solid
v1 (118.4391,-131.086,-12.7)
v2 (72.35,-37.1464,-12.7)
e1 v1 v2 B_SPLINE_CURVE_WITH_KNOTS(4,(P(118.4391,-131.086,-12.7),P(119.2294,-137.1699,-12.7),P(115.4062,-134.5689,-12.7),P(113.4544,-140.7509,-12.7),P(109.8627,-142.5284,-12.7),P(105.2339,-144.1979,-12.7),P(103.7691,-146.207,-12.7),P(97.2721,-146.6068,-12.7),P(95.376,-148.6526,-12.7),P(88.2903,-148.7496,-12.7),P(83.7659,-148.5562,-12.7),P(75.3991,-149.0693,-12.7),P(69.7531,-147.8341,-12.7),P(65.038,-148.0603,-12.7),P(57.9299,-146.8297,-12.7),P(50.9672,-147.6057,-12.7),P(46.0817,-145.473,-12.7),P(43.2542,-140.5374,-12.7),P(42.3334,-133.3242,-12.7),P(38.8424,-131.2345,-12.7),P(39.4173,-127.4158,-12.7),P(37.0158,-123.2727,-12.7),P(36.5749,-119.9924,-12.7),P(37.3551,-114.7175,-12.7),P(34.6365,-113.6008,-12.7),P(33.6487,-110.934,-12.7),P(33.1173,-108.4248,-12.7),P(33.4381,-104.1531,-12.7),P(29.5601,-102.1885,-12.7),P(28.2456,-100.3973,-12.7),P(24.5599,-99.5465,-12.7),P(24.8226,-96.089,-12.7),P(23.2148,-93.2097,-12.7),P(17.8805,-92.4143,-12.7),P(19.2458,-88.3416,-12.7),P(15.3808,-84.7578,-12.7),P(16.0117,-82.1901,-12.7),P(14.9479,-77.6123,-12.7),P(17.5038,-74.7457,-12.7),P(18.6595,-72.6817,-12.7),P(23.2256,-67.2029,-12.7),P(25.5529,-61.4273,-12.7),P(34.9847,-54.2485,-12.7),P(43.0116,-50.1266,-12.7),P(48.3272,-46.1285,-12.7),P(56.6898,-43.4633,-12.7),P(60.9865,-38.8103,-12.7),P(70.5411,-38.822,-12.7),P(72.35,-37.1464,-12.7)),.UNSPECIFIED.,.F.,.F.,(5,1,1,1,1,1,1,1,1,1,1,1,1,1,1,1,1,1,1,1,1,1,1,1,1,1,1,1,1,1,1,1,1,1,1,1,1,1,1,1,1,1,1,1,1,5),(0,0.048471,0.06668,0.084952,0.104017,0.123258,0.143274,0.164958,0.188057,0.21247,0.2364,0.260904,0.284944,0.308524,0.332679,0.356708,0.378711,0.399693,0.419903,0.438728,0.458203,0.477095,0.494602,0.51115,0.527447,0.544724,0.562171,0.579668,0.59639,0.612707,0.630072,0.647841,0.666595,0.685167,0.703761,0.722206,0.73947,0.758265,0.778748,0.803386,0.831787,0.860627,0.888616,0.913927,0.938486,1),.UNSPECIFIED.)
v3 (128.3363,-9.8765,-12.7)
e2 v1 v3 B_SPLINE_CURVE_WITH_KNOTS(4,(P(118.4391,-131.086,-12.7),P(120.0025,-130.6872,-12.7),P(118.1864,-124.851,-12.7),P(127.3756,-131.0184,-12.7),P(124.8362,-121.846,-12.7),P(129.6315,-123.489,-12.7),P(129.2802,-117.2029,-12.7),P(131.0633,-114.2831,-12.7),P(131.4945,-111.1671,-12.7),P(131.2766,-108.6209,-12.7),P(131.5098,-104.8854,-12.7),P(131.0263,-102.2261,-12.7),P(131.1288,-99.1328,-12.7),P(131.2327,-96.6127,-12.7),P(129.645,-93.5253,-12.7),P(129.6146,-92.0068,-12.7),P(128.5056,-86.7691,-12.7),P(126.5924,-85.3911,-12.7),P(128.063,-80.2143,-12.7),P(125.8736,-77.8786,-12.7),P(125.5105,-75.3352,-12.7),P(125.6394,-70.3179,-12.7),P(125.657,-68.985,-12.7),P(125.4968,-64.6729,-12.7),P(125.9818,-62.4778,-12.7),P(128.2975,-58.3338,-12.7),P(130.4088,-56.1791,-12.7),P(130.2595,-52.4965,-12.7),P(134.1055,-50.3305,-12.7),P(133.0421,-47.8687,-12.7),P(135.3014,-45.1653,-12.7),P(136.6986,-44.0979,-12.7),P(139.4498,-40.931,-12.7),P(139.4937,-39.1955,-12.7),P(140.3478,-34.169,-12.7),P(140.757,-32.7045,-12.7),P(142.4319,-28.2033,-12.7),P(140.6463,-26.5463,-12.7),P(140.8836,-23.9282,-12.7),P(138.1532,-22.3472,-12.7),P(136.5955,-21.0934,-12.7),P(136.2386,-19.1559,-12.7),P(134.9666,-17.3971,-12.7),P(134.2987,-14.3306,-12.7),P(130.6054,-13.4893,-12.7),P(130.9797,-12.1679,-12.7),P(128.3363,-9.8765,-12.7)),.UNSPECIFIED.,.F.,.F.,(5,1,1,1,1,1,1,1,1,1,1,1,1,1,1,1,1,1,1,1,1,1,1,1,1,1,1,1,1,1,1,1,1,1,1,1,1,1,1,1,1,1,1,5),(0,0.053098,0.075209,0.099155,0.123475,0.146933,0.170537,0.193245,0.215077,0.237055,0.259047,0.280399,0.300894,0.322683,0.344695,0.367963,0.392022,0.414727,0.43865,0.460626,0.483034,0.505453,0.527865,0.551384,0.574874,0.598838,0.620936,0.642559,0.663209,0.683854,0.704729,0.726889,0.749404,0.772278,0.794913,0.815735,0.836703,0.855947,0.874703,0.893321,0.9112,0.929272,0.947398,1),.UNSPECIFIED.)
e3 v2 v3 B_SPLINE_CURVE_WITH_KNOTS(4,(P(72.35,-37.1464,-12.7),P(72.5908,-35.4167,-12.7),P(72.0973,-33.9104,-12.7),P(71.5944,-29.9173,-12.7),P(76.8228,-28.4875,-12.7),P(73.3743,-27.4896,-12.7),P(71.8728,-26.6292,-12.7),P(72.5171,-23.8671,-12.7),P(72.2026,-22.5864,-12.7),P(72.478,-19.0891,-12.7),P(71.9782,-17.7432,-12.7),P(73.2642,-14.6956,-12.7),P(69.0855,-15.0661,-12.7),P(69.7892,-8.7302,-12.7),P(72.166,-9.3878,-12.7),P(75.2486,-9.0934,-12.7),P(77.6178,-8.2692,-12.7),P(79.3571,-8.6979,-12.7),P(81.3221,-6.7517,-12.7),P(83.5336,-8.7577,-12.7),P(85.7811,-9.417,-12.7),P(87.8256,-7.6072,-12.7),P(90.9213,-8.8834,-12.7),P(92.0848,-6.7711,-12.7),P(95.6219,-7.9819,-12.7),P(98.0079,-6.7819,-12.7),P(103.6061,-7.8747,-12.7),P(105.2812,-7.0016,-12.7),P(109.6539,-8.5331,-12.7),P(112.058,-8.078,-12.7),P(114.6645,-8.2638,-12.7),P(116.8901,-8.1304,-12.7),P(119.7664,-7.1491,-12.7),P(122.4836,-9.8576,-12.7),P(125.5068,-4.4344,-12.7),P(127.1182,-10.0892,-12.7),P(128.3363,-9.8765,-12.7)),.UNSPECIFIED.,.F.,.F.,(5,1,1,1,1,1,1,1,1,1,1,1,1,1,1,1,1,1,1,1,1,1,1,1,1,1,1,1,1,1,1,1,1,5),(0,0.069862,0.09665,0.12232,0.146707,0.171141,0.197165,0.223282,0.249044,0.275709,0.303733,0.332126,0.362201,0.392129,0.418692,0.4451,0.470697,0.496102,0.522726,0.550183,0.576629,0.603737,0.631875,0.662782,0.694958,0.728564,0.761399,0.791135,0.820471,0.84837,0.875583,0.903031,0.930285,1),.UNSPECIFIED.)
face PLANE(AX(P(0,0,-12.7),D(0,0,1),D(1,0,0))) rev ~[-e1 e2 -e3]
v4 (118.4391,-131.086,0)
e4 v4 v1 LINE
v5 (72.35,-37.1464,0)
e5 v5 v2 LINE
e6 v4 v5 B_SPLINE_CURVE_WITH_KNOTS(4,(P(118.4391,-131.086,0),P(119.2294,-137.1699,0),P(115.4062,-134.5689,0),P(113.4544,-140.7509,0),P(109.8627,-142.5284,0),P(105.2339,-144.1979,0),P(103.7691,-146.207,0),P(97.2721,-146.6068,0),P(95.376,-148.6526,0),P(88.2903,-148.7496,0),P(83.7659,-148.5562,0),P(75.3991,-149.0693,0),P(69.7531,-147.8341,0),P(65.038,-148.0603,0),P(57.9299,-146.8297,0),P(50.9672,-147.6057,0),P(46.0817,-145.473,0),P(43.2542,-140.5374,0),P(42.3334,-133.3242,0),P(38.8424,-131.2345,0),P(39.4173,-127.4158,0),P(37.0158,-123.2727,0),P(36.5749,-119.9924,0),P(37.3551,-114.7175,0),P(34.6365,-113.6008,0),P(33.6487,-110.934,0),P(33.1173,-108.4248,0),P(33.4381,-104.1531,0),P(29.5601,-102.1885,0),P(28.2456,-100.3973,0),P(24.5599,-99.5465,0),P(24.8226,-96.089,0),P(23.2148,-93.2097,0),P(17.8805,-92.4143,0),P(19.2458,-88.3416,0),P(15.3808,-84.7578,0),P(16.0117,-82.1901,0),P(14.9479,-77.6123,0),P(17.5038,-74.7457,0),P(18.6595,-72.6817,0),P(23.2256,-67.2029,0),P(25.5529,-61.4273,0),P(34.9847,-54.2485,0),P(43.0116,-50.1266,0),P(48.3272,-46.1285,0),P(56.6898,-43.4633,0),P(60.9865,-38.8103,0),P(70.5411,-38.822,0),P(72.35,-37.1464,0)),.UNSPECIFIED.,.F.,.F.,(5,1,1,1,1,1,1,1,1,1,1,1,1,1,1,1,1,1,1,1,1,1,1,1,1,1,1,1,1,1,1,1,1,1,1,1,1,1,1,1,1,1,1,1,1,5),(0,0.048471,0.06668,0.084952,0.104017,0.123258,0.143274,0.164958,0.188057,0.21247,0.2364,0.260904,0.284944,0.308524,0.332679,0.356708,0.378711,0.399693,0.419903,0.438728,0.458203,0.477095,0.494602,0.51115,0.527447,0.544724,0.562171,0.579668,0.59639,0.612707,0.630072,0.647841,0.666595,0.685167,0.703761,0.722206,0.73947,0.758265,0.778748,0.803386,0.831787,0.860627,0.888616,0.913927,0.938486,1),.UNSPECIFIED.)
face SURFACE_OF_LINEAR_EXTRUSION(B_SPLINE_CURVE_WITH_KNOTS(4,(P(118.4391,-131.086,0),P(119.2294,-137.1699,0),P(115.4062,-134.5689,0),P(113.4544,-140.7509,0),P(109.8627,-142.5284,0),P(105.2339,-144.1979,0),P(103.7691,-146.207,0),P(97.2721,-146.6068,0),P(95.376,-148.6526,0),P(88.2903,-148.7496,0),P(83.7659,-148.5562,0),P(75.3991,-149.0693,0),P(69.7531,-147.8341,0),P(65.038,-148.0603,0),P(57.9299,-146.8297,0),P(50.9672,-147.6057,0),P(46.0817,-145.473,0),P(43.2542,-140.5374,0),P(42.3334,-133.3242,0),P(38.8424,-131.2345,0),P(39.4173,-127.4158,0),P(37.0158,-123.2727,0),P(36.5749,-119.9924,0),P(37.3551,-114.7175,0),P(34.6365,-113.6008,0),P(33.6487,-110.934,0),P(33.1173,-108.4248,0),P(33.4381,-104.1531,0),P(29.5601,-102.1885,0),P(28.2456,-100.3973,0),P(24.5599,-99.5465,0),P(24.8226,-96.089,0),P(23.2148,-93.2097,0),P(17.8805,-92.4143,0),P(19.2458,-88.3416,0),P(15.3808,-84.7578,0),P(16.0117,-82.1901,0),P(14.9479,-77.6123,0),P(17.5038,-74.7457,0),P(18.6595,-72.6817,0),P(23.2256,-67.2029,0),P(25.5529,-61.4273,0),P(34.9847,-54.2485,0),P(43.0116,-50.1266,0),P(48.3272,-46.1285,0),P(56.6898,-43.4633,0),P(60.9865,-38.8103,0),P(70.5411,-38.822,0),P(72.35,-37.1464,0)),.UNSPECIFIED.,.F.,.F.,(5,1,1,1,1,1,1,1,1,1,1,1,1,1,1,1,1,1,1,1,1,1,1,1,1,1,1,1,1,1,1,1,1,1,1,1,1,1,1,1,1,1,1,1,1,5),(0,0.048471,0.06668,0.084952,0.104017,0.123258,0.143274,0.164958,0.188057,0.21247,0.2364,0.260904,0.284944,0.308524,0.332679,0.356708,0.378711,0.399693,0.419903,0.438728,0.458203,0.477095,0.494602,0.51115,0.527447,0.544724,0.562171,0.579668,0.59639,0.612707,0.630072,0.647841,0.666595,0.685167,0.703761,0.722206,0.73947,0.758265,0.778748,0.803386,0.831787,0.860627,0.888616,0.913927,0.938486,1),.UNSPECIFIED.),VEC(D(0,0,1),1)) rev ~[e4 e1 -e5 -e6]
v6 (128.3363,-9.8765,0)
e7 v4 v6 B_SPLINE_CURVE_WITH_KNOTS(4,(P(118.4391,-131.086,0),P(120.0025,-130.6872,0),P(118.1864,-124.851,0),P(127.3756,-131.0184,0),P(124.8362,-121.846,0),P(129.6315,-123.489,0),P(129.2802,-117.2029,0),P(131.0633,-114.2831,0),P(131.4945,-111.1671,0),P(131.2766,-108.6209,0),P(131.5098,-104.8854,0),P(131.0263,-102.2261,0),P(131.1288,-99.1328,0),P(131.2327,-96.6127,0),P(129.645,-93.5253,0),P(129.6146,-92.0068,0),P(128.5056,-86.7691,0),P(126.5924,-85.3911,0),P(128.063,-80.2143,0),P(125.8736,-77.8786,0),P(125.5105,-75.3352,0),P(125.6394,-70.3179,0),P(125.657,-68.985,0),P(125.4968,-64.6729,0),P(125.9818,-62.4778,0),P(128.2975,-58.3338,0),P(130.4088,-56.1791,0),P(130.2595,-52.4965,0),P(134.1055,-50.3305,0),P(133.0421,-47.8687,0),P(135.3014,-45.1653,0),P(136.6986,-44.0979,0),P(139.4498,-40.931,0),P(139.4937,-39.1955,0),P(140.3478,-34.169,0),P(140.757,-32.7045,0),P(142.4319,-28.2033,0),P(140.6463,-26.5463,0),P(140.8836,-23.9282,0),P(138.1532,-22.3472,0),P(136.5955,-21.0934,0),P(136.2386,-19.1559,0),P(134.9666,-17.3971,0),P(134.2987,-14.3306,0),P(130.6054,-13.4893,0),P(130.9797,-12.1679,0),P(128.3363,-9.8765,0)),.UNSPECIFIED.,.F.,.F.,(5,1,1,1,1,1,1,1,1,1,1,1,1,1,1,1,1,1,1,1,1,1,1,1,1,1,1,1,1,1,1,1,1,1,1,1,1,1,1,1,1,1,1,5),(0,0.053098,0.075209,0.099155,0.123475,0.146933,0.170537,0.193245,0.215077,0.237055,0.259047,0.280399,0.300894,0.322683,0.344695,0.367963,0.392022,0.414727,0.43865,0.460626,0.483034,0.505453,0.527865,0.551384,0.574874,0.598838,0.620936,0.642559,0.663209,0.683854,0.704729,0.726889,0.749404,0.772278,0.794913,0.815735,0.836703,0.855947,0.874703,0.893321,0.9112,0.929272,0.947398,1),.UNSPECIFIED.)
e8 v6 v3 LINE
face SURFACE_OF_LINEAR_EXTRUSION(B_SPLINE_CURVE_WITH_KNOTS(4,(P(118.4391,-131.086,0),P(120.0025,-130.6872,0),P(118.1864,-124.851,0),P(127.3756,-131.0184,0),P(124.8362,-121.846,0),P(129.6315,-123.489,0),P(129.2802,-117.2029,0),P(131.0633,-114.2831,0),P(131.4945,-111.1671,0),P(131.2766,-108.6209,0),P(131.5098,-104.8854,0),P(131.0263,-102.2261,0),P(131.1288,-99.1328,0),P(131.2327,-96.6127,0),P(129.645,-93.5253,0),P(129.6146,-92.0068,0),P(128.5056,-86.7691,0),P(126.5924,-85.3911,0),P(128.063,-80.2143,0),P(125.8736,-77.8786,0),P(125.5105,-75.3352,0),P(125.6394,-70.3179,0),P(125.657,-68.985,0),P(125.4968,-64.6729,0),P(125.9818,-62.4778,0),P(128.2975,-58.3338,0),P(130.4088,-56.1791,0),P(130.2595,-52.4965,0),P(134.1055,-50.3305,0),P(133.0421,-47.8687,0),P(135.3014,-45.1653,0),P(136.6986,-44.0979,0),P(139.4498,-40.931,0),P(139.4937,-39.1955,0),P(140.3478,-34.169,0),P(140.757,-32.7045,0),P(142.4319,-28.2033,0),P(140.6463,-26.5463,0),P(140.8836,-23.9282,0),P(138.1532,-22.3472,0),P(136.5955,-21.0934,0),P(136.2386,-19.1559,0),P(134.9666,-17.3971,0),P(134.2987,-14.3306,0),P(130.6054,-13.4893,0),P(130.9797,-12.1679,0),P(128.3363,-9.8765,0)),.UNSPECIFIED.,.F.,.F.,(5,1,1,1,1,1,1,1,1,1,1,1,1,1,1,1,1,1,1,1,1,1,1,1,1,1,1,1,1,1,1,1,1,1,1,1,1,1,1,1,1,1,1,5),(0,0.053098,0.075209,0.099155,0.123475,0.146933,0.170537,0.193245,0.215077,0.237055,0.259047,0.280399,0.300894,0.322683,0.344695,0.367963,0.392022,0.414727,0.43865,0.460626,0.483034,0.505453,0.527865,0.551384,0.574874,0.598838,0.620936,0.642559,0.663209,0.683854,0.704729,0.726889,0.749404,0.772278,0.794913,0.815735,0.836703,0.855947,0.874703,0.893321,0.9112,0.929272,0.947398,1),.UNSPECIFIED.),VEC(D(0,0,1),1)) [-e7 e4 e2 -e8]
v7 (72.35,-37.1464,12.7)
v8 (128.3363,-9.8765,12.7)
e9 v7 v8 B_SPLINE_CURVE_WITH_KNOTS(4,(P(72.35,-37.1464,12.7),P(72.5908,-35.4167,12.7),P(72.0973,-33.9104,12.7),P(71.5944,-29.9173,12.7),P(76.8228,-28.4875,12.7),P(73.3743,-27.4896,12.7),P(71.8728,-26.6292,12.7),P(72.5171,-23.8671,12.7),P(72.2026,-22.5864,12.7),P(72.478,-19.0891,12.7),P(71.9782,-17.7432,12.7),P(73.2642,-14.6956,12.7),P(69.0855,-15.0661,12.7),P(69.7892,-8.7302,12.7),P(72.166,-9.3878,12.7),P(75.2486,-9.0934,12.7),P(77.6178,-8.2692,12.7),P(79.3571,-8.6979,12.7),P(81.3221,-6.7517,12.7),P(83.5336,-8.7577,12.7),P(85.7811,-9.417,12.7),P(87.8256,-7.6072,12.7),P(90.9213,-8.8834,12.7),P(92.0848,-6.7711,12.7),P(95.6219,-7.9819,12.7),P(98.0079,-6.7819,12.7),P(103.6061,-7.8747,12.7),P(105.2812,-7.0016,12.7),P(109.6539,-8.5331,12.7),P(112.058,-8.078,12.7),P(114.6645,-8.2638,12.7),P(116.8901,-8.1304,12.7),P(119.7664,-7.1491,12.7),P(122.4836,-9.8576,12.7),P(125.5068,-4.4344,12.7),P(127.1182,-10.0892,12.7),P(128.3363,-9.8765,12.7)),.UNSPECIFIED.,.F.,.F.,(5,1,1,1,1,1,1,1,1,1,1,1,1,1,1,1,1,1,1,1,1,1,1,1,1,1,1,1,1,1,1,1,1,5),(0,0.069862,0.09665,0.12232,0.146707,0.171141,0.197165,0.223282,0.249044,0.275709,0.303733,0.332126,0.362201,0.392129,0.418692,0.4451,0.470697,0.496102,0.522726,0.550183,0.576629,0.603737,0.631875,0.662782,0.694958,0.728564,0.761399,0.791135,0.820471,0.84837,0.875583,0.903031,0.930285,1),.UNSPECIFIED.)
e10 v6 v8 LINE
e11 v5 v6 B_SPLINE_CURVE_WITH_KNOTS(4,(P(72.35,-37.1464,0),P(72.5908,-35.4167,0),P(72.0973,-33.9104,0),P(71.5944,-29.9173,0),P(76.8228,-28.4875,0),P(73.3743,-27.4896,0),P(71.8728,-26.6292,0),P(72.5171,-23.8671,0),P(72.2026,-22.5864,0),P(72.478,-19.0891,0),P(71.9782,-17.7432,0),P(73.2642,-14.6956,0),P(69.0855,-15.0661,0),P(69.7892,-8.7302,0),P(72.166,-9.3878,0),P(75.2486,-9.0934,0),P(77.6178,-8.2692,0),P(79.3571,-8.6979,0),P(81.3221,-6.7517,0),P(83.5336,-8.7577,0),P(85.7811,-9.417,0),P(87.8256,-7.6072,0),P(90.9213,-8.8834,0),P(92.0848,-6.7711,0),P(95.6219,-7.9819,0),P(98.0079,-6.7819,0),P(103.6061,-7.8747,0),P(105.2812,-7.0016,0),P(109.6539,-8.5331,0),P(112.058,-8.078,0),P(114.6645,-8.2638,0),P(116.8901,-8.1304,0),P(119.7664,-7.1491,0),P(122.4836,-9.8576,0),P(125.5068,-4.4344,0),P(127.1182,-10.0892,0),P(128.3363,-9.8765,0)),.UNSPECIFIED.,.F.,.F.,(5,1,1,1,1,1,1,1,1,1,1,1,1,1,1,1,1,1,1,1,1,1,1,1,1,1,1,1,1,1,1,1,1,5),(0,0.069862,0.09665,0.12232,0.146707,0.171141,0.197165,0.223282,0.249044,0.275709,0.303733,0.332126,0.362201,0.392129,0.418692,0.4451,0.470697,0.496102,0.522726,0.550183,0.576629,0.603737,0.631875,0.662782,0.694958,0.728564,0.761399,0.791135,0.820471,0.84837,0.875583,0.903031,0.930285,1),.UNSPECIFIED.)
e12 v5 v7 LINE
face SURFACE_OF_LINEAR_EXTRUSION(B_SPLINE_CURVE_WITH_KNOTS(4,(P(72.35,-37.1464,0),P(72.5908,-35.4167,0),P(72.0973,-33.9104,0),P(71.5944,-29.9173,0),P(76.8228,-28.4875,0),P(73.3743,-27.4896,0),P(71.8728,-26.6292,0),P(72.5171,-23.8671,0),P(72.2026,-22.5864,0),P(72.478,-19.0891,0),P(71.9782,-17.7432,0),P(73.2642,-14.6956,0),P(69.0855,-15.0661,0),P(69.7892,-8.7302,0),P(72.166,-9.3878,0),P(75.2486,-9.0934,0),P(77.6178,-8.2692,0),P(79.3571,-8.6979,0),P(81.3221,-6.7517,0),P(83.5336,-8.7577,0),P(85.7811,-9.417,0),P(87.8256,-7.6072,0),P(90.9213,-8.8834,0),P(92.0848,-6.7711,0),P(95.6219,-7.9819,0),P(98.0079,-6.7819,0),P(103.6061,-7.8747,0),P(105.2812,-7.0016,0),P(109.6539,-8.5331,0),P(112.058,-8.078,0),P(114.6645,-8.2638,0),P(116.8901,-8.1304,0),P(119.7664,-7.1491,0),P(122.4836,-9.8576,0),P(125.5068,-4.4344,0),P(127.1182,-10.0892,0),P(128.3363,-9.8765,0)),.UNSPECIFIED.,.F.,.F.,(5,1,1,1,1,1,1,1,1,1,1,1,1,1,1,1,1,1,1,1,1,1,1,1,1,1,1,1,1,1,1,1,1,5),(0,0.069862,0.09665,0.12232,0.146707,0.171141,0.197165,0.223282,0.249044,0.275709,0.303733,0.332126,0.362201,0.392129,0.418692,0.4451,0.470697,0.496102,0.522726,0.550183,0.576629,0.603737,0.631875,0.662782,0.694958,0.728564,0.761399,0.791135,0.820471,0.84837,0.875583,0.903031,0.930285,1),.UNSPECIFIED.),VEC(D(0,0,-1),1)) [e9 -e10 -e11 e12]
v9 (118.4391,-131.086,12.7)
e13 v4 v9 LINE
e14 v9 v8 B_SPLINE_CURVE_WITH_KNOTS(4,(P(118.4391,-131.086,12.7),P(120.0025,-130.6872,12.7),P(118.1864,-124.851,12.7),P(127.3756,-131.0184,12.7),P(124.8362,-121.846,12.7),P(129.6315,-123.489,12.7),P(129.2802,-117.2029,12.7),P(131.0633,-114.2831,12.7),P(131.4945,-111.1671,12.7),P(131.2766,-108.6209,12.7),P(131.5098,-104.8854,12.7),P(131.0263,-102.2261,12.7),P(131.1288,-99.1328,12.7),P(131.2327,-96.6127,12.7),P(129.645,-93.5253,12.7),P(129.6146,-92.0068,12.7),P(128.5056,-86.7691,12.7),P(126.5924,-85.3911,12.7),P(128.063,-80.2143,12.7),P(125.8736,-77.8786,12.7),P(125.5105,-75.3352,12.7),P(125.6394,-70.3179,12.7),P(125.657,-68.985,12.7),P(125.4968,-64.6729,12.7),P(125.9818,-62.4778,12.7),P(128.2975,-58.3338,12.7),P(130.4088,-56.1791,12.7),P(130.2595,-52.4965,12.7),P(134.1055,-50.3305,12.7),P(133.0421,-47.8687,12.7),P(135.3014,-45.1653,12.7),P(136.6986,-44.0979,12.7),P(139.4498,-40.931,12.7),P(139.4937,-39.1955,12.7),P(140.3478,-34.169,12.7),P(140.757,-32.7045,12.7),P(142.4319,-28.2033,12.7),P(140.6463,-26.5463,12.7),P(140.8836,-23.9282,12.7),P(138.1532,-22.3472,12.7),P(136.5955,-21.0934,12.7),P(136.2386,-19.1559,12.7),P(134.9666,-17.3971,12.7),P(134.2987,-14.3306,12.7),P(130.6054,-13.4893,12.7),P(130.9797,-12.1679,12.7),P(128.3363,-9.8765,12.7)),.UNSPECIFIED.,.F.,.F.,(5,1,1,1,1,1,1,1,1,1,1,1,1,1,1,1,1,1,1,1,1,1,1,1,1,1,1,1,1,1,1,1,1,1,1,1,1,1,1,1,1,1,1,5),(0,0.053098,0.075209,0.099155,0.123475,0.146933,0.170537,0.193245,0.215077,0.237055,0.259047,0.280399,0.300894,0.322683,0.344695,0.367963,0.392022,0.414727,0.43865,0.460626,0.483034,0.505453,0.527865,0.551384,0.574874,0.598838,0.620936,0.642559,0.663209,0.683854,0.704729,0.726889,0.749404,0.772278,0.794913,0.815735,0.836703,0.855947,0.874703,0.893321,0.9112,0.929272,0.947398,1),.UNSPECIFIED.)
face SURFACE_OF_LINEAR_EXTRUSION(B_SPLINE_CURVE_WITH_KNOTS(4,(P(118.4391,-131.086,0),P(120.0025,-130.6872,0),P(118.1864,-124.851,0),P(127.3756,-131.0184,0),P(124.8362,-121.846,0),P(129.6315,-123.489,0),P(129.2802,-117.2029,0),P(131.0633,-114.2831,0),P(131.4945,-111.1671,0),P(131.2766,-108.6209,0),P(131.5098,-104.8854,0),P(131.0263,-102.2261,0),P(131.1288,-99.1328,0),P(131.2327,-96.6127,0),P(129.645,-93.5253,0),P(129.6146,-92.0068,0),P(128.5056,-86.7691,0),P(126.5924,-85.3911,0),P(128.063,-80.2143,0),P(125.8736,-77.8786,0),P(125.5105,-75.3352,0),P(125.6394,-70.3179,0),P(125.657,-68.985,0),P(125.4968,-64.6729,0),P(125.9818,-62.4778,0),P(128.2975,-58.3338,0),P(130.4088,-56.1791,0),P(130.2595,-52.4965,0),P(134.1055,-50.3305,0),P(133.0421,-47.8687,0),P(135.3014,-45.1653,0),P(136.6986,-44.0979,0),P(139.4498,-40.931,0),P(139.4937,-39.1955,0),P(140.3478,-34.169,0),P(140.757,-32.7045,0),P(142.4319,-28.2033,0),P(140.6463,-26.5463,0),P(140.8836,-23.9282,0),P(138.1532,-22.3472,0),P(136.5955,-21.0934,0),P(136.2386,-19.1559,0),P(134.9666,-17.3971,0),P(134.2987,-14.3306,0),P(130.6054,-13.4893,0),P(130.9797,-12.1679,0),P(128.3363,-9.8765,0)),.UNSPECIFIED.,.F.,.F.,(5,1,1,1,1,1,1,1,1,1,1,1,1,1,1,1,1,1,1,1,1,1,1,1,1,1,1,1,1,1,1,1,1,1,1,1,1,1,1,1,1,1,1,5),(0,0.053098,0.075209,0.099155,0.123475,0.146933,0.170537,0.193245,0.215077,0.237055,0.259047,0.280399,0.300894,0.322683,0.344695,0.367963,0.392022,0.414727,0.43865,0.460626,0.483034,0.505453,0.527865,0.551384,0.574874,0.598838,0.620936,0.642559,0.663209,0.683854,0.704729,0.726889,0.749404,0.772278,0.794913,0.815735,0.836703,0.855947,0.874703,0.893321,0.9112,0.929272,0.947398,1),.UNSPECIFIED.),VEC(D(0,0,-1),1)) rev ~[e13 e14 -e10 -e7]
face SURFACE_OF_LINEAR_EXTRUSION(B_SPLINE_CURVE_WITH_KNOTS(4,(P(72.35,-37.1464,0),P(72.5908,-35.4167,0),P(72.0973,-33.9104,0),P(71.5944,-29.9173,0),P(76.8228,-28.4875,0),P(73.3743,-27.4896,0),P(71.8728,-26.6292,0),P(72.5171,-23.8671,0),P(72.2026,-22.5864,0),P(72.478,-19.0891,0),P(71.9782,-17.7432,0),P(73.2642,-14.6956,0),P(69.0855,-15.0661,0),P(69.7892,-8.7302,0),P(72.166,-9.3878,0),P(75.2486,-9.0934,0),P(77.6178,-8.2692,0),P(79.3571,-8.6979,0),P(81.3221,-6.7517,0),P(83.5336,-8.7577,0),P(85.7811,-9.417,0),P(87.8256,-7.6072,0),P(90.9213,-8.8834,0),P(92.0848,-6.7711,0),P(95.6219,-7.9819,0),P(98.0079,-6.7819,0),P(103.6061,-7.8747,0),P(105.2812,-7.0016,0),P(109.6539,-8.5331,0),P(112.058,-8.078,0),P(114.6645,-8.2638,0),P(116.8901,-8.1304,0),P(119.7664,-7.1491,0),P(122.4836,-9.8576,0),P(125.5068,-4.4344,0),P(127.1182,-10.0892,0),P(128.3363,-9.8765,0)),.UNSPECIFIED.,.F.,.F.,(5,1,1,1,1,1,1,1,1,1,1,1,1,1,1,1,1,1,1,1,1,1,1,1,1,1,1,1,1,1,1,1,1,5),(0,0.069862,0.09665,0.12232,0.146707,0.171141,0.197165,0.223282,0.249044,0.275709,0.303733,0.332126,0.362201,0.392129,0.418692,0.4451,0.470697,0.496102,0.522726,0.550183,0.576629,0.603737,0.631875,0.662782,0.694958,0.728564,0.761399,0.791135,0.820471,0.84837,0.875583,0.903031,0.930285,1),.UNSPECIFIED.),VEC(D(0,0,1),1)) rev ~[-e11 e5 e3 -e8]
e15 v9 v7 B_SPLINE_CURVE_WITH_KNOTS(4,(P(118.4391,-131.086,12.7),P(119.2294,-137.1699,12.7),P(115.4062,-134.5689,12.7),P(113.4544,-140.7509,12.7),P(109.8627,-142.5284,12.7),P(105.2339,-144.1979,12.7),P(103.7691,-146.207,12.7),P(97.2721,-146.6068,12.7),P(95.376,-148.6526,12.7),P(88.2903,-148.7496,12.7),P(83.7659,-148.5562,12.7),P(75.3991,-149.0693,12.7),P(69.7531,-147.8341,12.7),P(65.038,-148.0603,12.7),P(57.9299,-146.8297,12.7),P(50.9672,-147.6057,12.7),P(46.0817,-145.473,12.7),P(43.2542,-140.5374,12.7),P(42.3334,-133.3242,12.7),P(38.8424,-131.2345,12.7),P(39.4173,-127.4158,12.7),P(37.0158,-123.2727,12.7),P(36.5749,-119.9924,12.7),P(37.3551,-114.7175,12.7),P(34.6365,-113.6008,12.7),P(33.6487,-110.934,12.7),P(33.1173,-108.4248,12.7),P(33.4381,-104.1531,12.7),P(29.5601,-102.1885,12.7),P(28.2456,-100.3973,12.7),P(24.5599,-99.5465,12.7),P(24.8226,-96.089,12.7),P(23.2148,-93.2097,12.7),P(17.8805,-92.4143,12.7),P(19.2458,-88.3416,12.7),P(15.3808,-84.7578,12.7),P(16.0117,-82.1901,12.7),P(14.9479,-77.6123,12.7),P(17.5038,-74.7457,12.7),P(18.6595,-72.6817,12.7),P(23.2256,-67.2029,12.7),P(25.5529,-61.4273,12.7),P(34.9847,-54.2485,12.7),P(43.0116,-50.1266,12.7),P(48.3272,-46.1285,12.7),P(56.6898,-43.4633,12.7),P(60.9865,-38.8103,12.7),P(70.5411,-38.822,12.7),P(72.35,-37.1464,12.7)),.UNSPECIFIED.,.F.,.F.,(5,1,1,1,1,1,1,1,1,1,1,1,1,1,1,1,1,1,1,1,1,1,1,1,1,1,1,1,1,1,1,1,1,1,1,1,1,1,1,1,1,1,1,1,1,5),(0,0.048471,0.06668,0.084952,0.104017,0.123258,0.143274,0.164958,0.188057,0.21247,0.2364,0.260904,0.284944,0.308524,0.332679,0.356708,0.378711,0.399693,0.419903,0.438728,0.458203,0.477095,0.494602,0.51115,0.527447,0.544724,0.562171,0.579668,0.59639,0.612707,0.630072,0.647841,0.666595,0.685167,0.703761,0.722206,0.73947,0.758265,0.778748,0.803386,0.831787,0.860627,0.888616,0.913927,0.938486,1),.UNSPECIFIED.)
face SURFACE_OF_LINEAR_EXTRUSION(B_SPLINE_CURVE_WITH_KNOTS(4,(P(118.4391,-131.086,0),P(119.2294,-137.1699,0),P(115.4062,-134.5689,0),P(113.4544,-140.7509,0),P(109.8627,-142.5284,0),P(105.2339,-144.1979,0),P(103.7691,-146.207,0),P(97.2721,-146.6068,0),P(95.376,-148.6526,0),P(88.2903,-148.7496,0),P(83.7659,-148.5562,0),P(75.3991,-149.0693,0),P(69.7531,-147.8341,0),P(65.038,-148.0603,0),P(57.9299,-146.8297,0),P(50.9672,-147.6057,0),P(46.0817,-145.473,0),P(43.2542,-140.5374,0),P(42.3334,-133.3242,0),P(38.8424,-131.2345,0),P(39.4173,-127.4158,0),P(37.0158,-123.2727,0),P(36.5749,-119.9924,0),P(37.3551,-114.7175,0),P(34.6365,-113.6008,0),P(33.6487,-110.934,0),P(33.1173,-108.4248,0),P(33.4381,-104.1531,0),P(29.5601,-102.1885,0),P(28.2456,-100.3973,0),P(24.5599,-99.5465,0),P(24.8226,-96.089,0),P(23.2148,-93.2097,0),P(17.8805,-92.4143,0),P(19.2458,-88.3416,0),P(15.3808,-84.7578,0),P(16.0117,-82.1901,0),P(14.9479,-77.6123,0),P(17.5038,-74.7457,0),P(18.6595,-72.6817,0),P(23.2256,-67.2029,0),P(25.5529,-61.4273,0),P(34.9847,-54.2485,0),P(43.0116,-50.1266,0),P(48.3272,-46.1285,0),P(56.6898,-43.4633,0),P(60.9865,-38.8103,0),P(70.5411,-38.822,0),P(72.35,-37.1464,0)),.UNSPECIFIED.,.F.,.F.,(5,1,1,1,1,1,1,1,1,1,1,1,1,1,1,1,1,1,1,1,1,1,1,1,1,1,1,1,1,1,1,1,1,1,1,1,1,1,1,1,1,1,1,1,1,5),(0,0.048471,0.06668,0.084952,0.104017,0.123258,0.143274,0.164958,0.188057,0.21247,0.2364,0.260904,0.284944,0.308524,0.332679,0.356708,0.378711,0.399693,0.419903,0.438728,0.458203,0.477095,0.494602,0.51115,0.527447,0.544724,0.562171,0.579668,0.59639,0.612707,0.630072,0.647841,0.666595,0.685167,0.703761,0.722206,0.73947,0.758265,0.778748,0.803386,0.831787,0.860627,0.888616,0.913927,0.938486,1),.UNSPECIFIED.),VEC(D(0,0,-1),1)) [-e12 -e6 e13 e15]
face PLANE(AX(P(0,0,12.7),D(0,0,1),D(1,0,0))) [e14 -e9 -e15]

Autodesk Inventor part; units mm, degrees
ref_plane "YZ Plane" through (0, 0, 0) normal (1, 0, 0) x (0, 1, 0)
ref_plane "XZ Plane" through (0, 0, 0) normal (0, 1, 0) x (-1, 0, 0)
ref_plane "XY Plane" through (0, 0, 0) normal (0, 0, 1) x (1, 0, 0)
sketch "Sketch1" plane through (0, 0, 0) normal (0, 0, 1) x (1, 0, 0)
  line L0 (0, 0) -> (150.8125, 0) construction
  line L1 (150.8125, 0) -> (150.8125, -155.575) construction
  line L2 (150.8125, -155.575) -> (0, -155.575) construction
  line L3 (0, -155.575) -> (0, 0) construction
  spline S0 degree 4 poles (118.4391, -131.086) (119.2294, -137.1699) (115.4062, -134.5689) (113.4544, -140.7509) (109.8627, -142.5284) (105.2339, -144.1979) (103.7691, -146.207) (97.2721, -146.6068) (95.376, -148.6526) (88.2903, -148.7496) (83.7659, -148.5562) (75.3991, -149.0693) (69.7531, -147.8341) (65.038, -148.0603) (57.9299, -146.8297) (50.9672, -147.6057) (46.0817, -145.473) (43.2542, -140.5374) (42.3334, -133.3242) (38.8424, -131.2345) (39.4173, -127.4158) (37.0158, -123.2727) (36.5749, -119.9924) (37.3551, -114.7175) (34.6365, -113.6008) (33.6487, -110.934) (33.1173, -108.4248) (33.4381, -104.1531) (29.5601, -102.1885) (28.2456, -100.3973) (24.5599, -99.5465) (24.8226, -96.089) (23.2148, -93.2097) (17.8805, -92.4143) (19.2458, -88.3416) (15.3808, -84.7578) (16.0117, -82.1901) (14.9479, -77.6123) (17.5038, -74.7457) (18.6595, -72.6817) (23.2256, -67.2029) (25.5529, -61.4273) (34.9847, -54.2485) (43.0116, -50.1266) (48.3272, -46.1285) (56.6898, -43.4633) (60.9865, -38.8103) (70.5411, -38.822) (72.35, -37.1464) knots 0 0 0 0 0 0.048471 0.06668 0.084952 0.104017 0.123258 0.143274 0.164958 0.188057 0.21247 0.2364 0.260904 0.284944 0.308524 0.332679 0.356708 0.378711 0.399693 0.419903 0.438728 0.458203 0.477095 0.494602 0.51115 0.527447 0.544724 0.562171 0.579668 0.59639 0.612707 0.630072 0.647841 0.666595 0.685167 0.703761 0.722206 0.73947 0.758265 0.778748 0.803386 0.831787 0.860627 0.888616 0.913927 0.938486 1 1 1 1 1
  spline S1 degree 4 poles (72.35, -37.1464) (72.5908, -35.4167) (72.0973, -33.9104) (71.5944, -29.9173) (76.8228, -28.4875) (73.3743, -27.4896) (71.8728, -26.6292) (72.5171, -23.8671) (72.2026, -22.5864) (72.478, -19.0891) (71.9782, -17.7432) (73.2642, -14.6956) (69.0855, -15.0661) (69.7892, -8.7302) (72.166, -9.3878) (75.2486, -9.0934) (77.6178, -8.2692) (79.3571, -8.6979) (81.3221, -6.7517) (83.5336, -8.7577) (85.7811, -9.417) (87.8256, -7.6072) (90.9213, -8.8834) (92.0848, -6.7711) (95.6219, -7.9819) (98.0079, -6.7819) (103.6061, -7.8747) (105.2812, -7.0016) (109.6539, -8.5331) (112.058, -8.078) (114.6645, -8.2638) (116.8901, -8.1304) (119.7664, -7.1491) (122.4836, -9.8576) (125.5068, -4.4344) (127.1182, -10.0892) (128.3363, -9.8765) knots 0 0 0 0 0 0.069862 0.09665 0.12232 0.146707 0.171141 0.197165 0.223282 0.249044 0.275709 0.303733 0.332126 0.362201 0.392129 0.418692 0.4451 0.470697 0.496102 0.522726 0.550183 0.576629 0.603737 0.631875 0.662782 0.694958 0.728564 0.761399 0.791135 0.820471 0.84837 0.875583 0.903031 0.930285 1 1 1 1 1
  spline S2 degree 4 poles (118.4391, -131.086) (120.0025, -130.6872) (118.1864, -124.851) (127.3756, -131.0184) (124.8362, -121.846) (129.6315, -123.489) (129.2802, -117.2029) (131.0633, -114.2831) (131.4945, -111.1671) (131.2766, -108.6209) (131.5098, -104.8854) (131.0263, -102.2261) (131.1288, -99.1328) (131.2327, -96.6127) (129.645, -93.5253) (129.6146, -92.0068) (128.5056, -86.7691) (126.5924, -85.3911) (128.063, -80.2143) (125.8736, -77.8786) (125.5105, -75.3352) (125.6394, -70.3179) (125.657, -68.985) (125.4968, -64.6729) (125.9818, -62.4778) (128.2975, -58.3338) (130.4088, -56.1791) (130.2595, -52.4965) (134.1055, -50.3305) (133.0421, -47.8687) (135.3014, -45.1653) (136.6986, -44.0979) (139.4498, -40.931) (139.4937, -39.1955) (140.3478, -34.169) (140.757, -32.7045) (142.4319, -28.2033) (140.6463, -26.5463) (140.8836, -23.9282) (138.1532, -22.3472) (136.5955, -21.0934) (136.2386, -19.1559) (134.9666, -17.3971) (134.2987, -14.3306) (130.6054, -13.4893) (130.9797, -12.1679) (128.3363, -9.8765) knots 0 0 0 0 0 0.053098 0.075209 0.099155 0.123475 0.146933 0.170537 0.193245 0.215077 0.237055 0.259047 0.280399 0.300894 0.322683 0.344695 0.367963 0.392022 0.414727 0.43865 0.460626 0.483034 0.505453 0.527865 0.551384 0.574874 0.598838 0.620936 0.642559 0.663209 0.683854 0.704729 0.726889 0.749404 0.772278 0.794913 0.815735 0.836703 0.855947 0.874703 0.893321 0.9112 0.929272 0.947398 1 1 1 1 1
  point P0 (0, 0)
  point P1 (116.9726, -136.0733)
  point P2 (114.6252, -137.8319)
  point P3 (112.278, -140.7645)
  point P4 (109.6369, -142.5236)
  point P5 (105.8211, -144.2835)
  point P6 (103.1798, -145.7495)
  point P7 (98.1893, -146.9236)
  point P8 (94.9605, -148.097)
  point P9 (89.3825, -148.6848)
  point P10 (83.5108, -148.686)
  point P11 (75.411, -148.6877)
  point P12 (69.712, -148.1022)
  point P13 (65.0145, -147.8099)
  point P14 (57.9684, -147.2245)
  point P15 (50.9222, -146.9325)
  point P16 (46.5182, -144.8792)
  point P17 (43.5818, -139.8905)
  point P18 (41.3569, -133.4703)
  point P19 (39.5498, -130.6784)
  point P20 (38.8838, -127.5639)
  point P21 (37.4159, -123.4543)
  point P22 (36.8289, -119.3444)
  point P23 (36.4288, -114.9917)
  point P24 (34.8685, -113.1845)
  point P25 (33.801, -111.1366)
  point P26 (33.3071, -108.4808)
  point P27 (32.5696, -104.6001)
  point P28 (29.7852, -102.0205)
  point P29 (27.7308, -100.5518)
  point P30 (25.3828, -99.0828)
  point P31 (24.5024, -96.44)
  point P32 (22.7415, -93.797)
  point P33 (19.2195, -91.7404)
  point P34 (18.2403, -88.5375)
  point P35 (16.1874, -84.7586)
  point P36 (15.6973, -81.8837)
  point P37 (15.6973, -77.7704)
  point P38 (17.1647, -75.0067)
  point P39 (18.632, -72.9528)
  point P40 (21.8608, -68.5502)
  point P41 (25.9703, -62.3862)
  point P42 (35.1856, -54.5711)
  point P43 (43.5836, -49.4702)
  point P44 (49.0427, -46.2512)
  point P45 (54.1507, -43.895)
  point P46 (59.1405, -41.2545)
  point P47 (66.7728, -38.9067)
  point P48 (72.3436, -34.7284)
  point P49 (72.3375, -32.1633)
  point P50 (73.9534, -29.5987)
  point P51 (75.382, -28.4382)
  point P52 (73.7149, -27.4984)
  point P53 (72.327, -26.3266)
  point P54 (72.3235, -24.2247)
  point P55 (72.3208, -22.3557)
  point P56 (72.3196, -19.3116)
  point P57 (72.3188, -17.4384)
  point P58 (72.3189, -15.5634)
  point P59 (70.3281, -14.0983)
  point P60 (70.3288, -9.8825)
  point P61 (72.3296, -9.214)
  point P62 (75.3831, -8.9306)
  point P63 (77.7102, -8.4918)
  point P64 (79.3542, -8.2497)
  point P65 (81.2329, -7.5381)
  point P66 (83.5064, -8.466)
  point P67 (85.6937, -8.9261)
  point P68 (88.0409, -8.215)
  point P69 (90.6221, -8.2075)
  point P70 (92.2647, -7.4999)
  point P71 (94.9717, -7.4947)
  point P72 (98.2028, -7.2565)
  point P73 (103.195, -7.4873)
  point P74 (105.8371, -7.4875)
  point P75 (109.6535, -8.1904)
  point P76 (112.2939, -8.1939)
  point P77 (114.6401, -8.199)
  point P78 (116.9851, -7.9723)
  point P79 (119.6759, -7.7467)
  point P80 (121.7825, -8.2204)
  point P81 (124.1192, -7.2973)
  point P82 (126.2262, -8.0045)
  point P83 (119.6632, -128.923)
  point P84 (121.7697, -127.5773)
  point P85 (125.2738, -127.0904)
  point P86 (126.2173, -123.4789)
  point P87 (128.3242, -122.1504)
  point P88 (129.7281, -117.7036)
  point P89 (130.9107, -113.8876)
  point P90 (131.365, -111.1686)
  point P91 (131.3639, -108.5295)
  point P92 (131.3634, -105.0083)
  point P93 (131.1389, -102.0483)
  point P94 (131.1289, -99.1377)
  point P95 (130.8951, -96.4947)
  point P96 (129.9588, -93.8503)
  point P97 (129.4911, -91.7932)
  point P98 (128.3216, -87.4788)
  point P99 (127.2884, -84.7818)
  point P100 (127.2898, -80.494)
  point P101 (126.2196, -77.8029)
  point P102 (125.6231, -75.0191)
  point P103 (125.6245, -70.6777)
  point P104 (125.6254, -68.555)
  point P105 (125.6265, -65.1781)
  point P106 (126.2328, -62.3836)
  point P107 (128.3448, -58.6007)
  point P108 (129.9874, -55.783)
  point P109 (131.1538, -52.6505)
  point P110 (133.2724, -50.0069)
  point P111 (133.6981, -47.8182)
  point P112 (135.1408, -45.4863)
  point P113 (136.7894, -43.8599)
  point P114 (138.8987, -41.2169)
  point P115 (139.6013, -38.8691)
  point P116 (140.3037, -34.6779)
  point P117 (141.0054, -32.1031)
  point P118 (141.7069, -28.3576)
  point P119 (141.0024, -26.252)
  point P120 (140.2976, -24.1471)
  point P121 (138.188, -22.2742)
  point P122 (136.7874, -20.8694)
  point P123 (136.0775, -19.2314)
  point P124 (135.138, -17.3617)
  point P125 (134.1984, -15.4923)
  point P126 (132.557, -14.0888)
  point P127 (131.1499, -12.919)
  point P128 (0, 0)
extrude "Extrusion1" add sketch "Sketch1" along normal mid plane 25.4
sketch "Sketch2" plane through (0, 0, 12.7) normal (0, 0, 1) x (1, 0, 0)
  point P0 (0, 0)
sketch "Sketch3" plane through (0, 0, 12.7) normal (0, 0, 1) x (1, 0, 0)
  line L0 (0, 0) -> (150.8125, 0) construction
  line L1 (150.8125, 0) -> (150.8125, -155.575) construction
  line L2 (150.8125, -155.575) -> (0, -155.575) construction
  line L3 (0, -155.575) -> (0, 0) construction
  spline S0 degree 4 poles (78.7767, -26.7441) (78.7679, -23.6404) (79.3504, -23.1194) (79.8294, -18.0894) (83.8562, -16.5981) (85.5709, -14.8201) (89.5043, -13.554) (93.3789, -13.2748) (94.5075, -12.7337) (104.7717, -14.5606) (105.446, -14.0761) (113.2341, -15.5061) (114.131, -15.8271) knots 0 0 0 0 0 0.193487 0.266944 0.34549 0.424519 0.500523 0.586181 0.672442 0.764154 1 1 1 1 1
  spline S1 degree 4 poles (114.131, -15.8271) (113.1236, -17.0174) (112.4309, -17.3501) (109.9706, -18.949) (108.2962, -19.2029) (106.5674, -21.0073) (105.1546, -20.6438) (104.7586, -23.6769) (105.2294, -24.8127) knots 0 0 0 0 0 0.324635 0.446172 0.561686 0.673185 1 1 1 1 1
  spline S2 degree 3 poles (105.2294, -24.8127) (105.0472, -24.3731) (103.525, -25.0373) (101.9256, -24.852) (99.9557, -24.2212) (97.8664, -24.1737) (96.0077, -22.8013) (93.847, -23.6658) (92.0989, -22.244) (90.4373, -23.3028) (88.966, -23.8165) (87.5345, -24.9125) (87.2591, -26.0483) (87.0904, -26.7441) knots 0 0 0 0 0.142761 0.319112 0.54319 0.739236 0.938847 1.18238 1.344566 1.522509 1.699061 1.830237 2.037644 2.037644 2.037644 2.037644
  spline S3 degree 4 poles (78.7767, -26.7441) (79.8322, -26.312) (82.0455, -26.5743) (84.3428, -26.1344) (86.2651, -26.1448) (87.0904, -26.7441) knots 0 0 0 0 0 0.514865 1 1 1 1 1
  spline S4 degree 4 poles (79.7844, -37.7635) (79.6014, -37.1891) (75.8742, -38.6662) (76.0293, -36.3871) (74.494, -35.4065) (74.5848, -33.646) (74.7684, -31.6339) (75.5389, -30.1814) (77.3814, -30.0153) (79.0847, -29.4608) (80.4279, -28.9198) (81.8818, -28.4839) (83.0062, -27.9908) (85.0897, -27.7583) (87.1697, -26.9662) (88.0011, -27.6158) (87.8462, -25.8972) knots 0 0 0 0 0 0.162136 0.222411 0.283695 0.346366 0.412236 0.479473 0.543728 0.607525 0.66887 0.728954 0.790948 0.851345 1 1 1 1 1
  spline S5 degree 4 poles (87.8462, -25.8972) (88.4512, -26.0008) (88.2097, -23.7734) (90.4371, -24.6611) (90.9739, -23.1935) (92.1724, -23.5876) (93.3635, -23.5198) (94.1301, -24.0497) (95.289, -24.2222) (96.0514, -24.9522) (97.5384, -25.2773) (98.8282, -25.1877) (100.4942, -25.6179) (101.7076, -25.8857) (103.3045, -26.2326) (104.7046, -26.6267) (106.1164, -26.0201) (107.428, -27.1828) (109.0105, -26.1996) (109.0902, -23.925) (110.6952, -24.3796) (111.5838, -22.2978) (112.4844, -22.7059) (113.1822, -22.1254) knots 0 0 0 0 0 0.100105 0.140722 0.181016 0.219911 0.259874 0.299989 0.340922 0.384156 0.429908 0.477091 0.525031 0.573003 0.619843 0.666947 0.71389 0.761966 0.807766 0.852751 0.895817 1 1 1 1 1
  spline S6 degree 4 poles (113.1822, -22.1254) (113.9529, -21.4375) (114.4161, -22.3925) (116.9634, -21.7326) (117.5976, -23.7616) (118.5747, -24.1131) (118.6495, -25.355) (118.7914, -26.1959) (118.5652, -27.5191) (118.0919, -27.5892) (117.5422, -28.6455) (116.9812, -28.7264) (116.9199, -30.5975) (115.7411, -30.3027) (115.2534, -31.1679) (115.1278, -31.2253) knots 0 0 0 0 0 0.191307 0.269042 0.344217 0.415424 0.484479 0.549666 0.613906 0.673655 0.733823 0.797288 0.860584 1 1 1 1 1
  spline S7 degree 4 poles (115.3838, -120.4749) (116.0263, -119.327) (118.3883, -117.4384) (118.1828, -113.4168) (119.4791, -109.8009) (119.4211, -106.9991) (118.6491, -103.9566) (118.2044, -101.2749) (117.1495, -99.0365) (115.5393, -96.2666) (114.6082, -93.5803) (114.1642, -91.212) (113.4894, -88.2797) (113.6694, -86.4329) (113.8404, -82.8632) (115.5259, -80.8456) (116.7823, -77.5333) (118.1049, -75.1959) (119.8728, -71.3501) (120.3011, -68.4222) (123.2493, -65.386) (123.7513, -62.233) (125.9237, -59.2013) (126.7073, -55.7712) (128.6075, -53.156) (129.4041, -48.9625) (128.9318, -46.4338) (127.7067, -41.1406) (125.3302, -40.0048) (122.989, -36.1476) (118.381, -33.1367) (116.3526, -33.4102) (115.4629, -31.6214) (115.1278, -31.2253) knots 0 0 0 0 0 0.073384 0.103743 0.134054 0.163518 0.192558 0.222125 0.251408 0.280543 0.309868 0.337768 0.365961 0.394543 0.423884 0.454474 0.485995 0.518037 0.550689 0.583648 0.616205 0.648957 0.681222 0.714017 0.746374 0.779931 0.812985 0.846932 0.882335 0.914796 0.945087 1 1 1 1 1
  spline S8 degree 4 poles (67.6075, -124.6107) (66.1918, -124.5903) (64.8922, -124.8337) (63.6307, -124.5371) (61.0498, -124.6331) (59.4571, -124.589) (57.605, -124.6564) (56.2704, -124.4833) (53.6022, -125.0413) (52.3847, -123.4352) (50.0725, -122.7897) (48.5365, -122.1161) (47.3101, -120.4492) (46.0209, -119.7625) (45.8889, -118.5859) (45.5146, -116.7631) (44.9455, -115.4113) (44.7671, -112.6211) (44.8647, -111.2941) (45.1016, -110.7234) knots 0 0 0 0 0 0.130407 0.180688 0.232734 0.285662 0.340326 0.395939 0.453753 0.512777 0.570576 0.625388 0.675484 0.724833 0.771561 0.821449 0.875157 1 1 1 1 1
  spline S9 degree 4 poles (67.6075, -124.6107) (65.881, -124.0041) (65.9616, -122.8525) (62.6041, -122.8895) (62.7622, -120.5238) (60.8786, -120.5063) (60.7342, -119.486) (59.6139, -118.6138) (59.6483, -117.6973) (58.1703, -116.9961) (57.8633, -116.0217) (56.4636, -115.1091) (55.8234, -113.6893) (54.6419, -112.2747) (53.2604, -111.9424) (52.3746, -110.3329) (50.4825, -110.6434) (49.1678, -110.5704) (47.4864, -110.5273) (46.0635, -110.057) (45.1766, -110.476) (45.1016, -110.7234) knots 0 0 0 0 0 0.138782 0.188254 0.234642 0.279213 0.32209 0.364907 0.408397 0.45318 0.501753 0.552203 0.604135 0.656304 0.708363 0.759164 0.809753 0.859862 0.906852 1 1 1 1 1
  spline S10 degree 4 poles (85.7468, -50.6857) (86.8177, -50.35) (86.4634, -50.3673) (87.7733, -49.1826) (88.9074, -49.22) (89.4685, -48.3695) (90.7371, -48.2576) (91.2545, -47.7414) (92.217, -47.3972) (92.7463, -46.9397) (94.4403, -47.1073) (94.5113, -45.9386) (95.9647, -45.9838) (96.262, -45.1934) (97.5601, -45.1314) (98.4274, -44.3916) (99.5184, -44.0457) (100.7043, -43.9042) (101.8542, -43.6892) (103.0683, -44.1491) (104.7404, -44.4511) (105.951, -45.2617) (107.0393, -45.3423) (107.9433, -46.1548) (108.6804, -46.6919) (109.3499, -47.1845) (110.0547, -47.8115) (110.1874, -48.3625) (110.4078, -49.257) (112.0069, -49.2531) (110.6861, -50.1514) (111.1918, -50.457) knots 0 0 0 0 0 0.076632 0.106954 0.140025 0.171655 0.20331 0.234523 0.266465 0.29893 0.332233 0.365209 0.397206 0.43036 0.463878 0.49916 0.534531 0.570319 0.608288 0.647307 0.686189 0.724355 0.759484 0.792417 0.824409 0.853926 0.881948 0.909522 0.935106 1 1 1 1 1
  spline S11 degree 4 poles (100.4334, -69.9806) (100.7438, -68.9487) (100.7286, -67.9236) (101.3975, -66.7406) (102.6021, -65.0909) (103.0762, -64.0511) (103.2624, -63.0089) (103.673, -61.9028) (104.8446, -61.1038) (105.2579, -60.1138) (105.5076, -59.0807) (106.1034, -58.0484) (106.6167, -56.9843) (107.5026, -56.0077) (107.9219, -55.0256) (108.6527, -54.3644) (110.0333, -53.8085) (111.0393, -52.8075) (109.7389, -51.2958) (112.1758, -51.3016) (111.1918, -50.457) knots 0 0 0 0 0 0.136358 0.188713 0.240458 0.291401 0.341728 0.391623 0.441567 0.49158 0.54107 0.59185 0.642577 0.692403 0.743327 0.792169 0.840572 0.888899 1 1 1 1 1
  spline S12 degree 4 poles (100.4334, -69.9806) (100.4443, -69.1272) (100.4025, -67.7552) (100.4844, -66.8266) (100.3385, -64.7683) (100.8162, -63.6833) (100.8053, -60.5982) (100.647, -59.6013) (101.148, -55.9217) (100.6285, -55.6635) (101.7786, -52.0447) (98.936, -53.0777) (97.434, -52.2528) (96.6458, -52.6454) (94.6728, -51.7852) (94.2989, -52.1196) (92.8662, -51.7853) (91.1524, -52.5244) (91.0009, -50.8749) (89.5701, -51.3851) (88.609, -51.179) (87.3994, -51.3251) (86.5759, -51.3658) (85.7468, -50.6857) knots 0 0 0 0 0 0.104676 0.145195 0.190838 0.239977 0.294256 0.347979 0.400202 0.452742 0.501304 0.548942 0.594817 0.634905 0.674026 0.715221 0.75379 0.794617 0.832923 0.868107 0.903157 1 1 1 1 1
  spline S13 degree 4 poles (40.8341, -132.6848) (41.6284, -133.3095) (43.1804, -133.7671) (44.8861, -135.805) (47.8163, -136.8671) (50.651, -137.9041) (53.2861, -138.4038) (56.7451, -139.5914) (59.3846, -139.0574) (62.4227, -139.5593) (65.8259, -138.4811) (69.0364, -138.4797) (72.3249, -135.7566) (75.309, -136.7061) (79.1002, -134.5412) (81.8568, -134.1093) (84.3371, -132.5366) (88.1108, -131.9407) (90.7433, -132.3314) (93.4236, -132.6102) (97.5303, -130.999) (101.3257, -132.5831) (103.4352, -129.4439) (109.8434, -126.7478) (111.4371, -126.2502) (114.3383, -122.1774) (115.3838, -120.4749) knots 0.019 0.019 0.019 0.019 0.019 0.081259 0.11584 0.151731 0.189055 0.226525 0.26398 0.302192 0.340339 0.379935 0.419812 0.460387 0.500217 0.538935 0.578369 0.615855 0.652927 0.691791 0.730594 0.770603 0.813622 0.854735 0.89563 1 1 1 1 1
  spline S14 degree 4 poles (15.5777, -78.4716) (16.438, -78.5406) (17.1652, -76.6035) (18.2723, -74.988) (20.6421, -74.7006) (21.7698, -76.3837) (23.7367, -75.8033) (25.084, -75.187) (26.4229, -73.6703) (29.072, -75.0559) (30.2182, -75.837) (30.7549, -77.3368) (33.6843, -77.7174) (33.7459, -79.0407) (35.9774, -79.4926) (34.9511, -80.7107) knots 0 0 0 0 0 0.164713 0.232949 0.299285 0.365473 0.433355 0.505387 0.576621 0.646625 0.716989 0.780992 0.844682 1 1 1 1 1
  line L4 (34.6964, -127.8581) -> (46.9718, -137.5116) construction
  arc A0 (39.5262, -129.3746) -> (44.3593, -133.1754) centre (43.0172, -129.9088) ccw construction
  spline S15 degree 4 poles (34.9511, -80.7107) (35.3648, -80.2552) (35.5605, -80.3337) (36.1459, -80.0962) (36.9331, -80.5189) (37.2868, -80.818) (37.6454, -81.1827) (38.0912, -81.2967) (38.3994, -81.5973) (38.8975, -81.6583) (38.8882, -82.0105) (38.975, -82.6384) (38.8837, -82.9569) (38.8538, -83.5902) (38.8541, -83.9872) (38.8874, -84.7247) (38.4992, -84.6785) (37.8945, -84.8717) (37.6378, -84.6993) (36.9488, -84.5826) (36.9474, -85.4477) (35.8767, -85) (35.4352, -85.7968) (34.7068, -85.6083) (33.9789, -85.8364) (33.7582, -86.467) (32.6867, -86.5794) (32.2177, -87.0051) (31.5064, -86.9184) (31.7603, -88.4619) (31.5883, -89.2123) (31.57, -90.1642) (31.7743, -91.9396) (30.7247, -90.7586) (29.5093, -92.3154) (28.9626, -91.0694) (28.1513, -91.7769) knots 0 0 0 0 0 0.064408 0.089274 0.115102 0.140588 0.16488 0.188265 0.210309 0.233177 0.255923 0.279874 0.305513 0.330833 0.355443 0.379967 0.403363 0.426346 0.450638 0.476271 0.504292 0.533554 0.563576 0.592738 0.622818 0.652663 0.681287 0.712137 0.743326 0.777531 0.814668 0.848649 0.882126 0.913848 1 1 1 1 1
  spline S16 degree 4 poles (28.1513, -91.7769) (28.4873, -91.7179) (27.466, -90.5735) (28.202, -90.2818) (28.3264, -89.0752) (27.4894, -88.7798) (26.6738, -88.6676) (26.0581, -88.4168) (24.9583, -88.3053) (24.5192, -87.8277) (24.7218, -87.1217) (24.5919, -86.1297) (24.7905, -85.4403) (23.6643, -85.9093) (22.9947, -85.2633) (22.2783, -85.5931) (21.6498, -85.2078) (21.2296, -85.0441) (20.9533, -83.9697) (20.2709, -83.5753) (20.6337, -82.9381) (20.2981, -81.6284) (20.9062, -80.3184) (19.2905, -81.5532) (18.6594, -81.8238) (17.987, -83.0398) (15.3371, -81.4974) (17.9341, -81.1799) (15.0236, -78.3004) (15.5777, -78.4716) knots 0 0 0 0 0 0.074374 0.107138 0.139453 0.1725 0.207269 0.240796 0.273522 0.307538 0.337981 0.369795 0.402793 0.434011 0.466612 0.497554 0.528803 0.559849 0.59065 0.626239 0.660482 0.696956 0.736223 0.773881 0.81435 0.852585 0.894547 1 1 1 1 1
  spline S17 degree 4 poles (31.0631, -102.9828) (31.2548, -101.9361) (30.276, -100.7858) (30.0199, -100.0922) (29.2476, -98.4817) (28.8818, -97.4855) (29.0701, -96.3739) (28.8526, -95.2213) (30.4674, -95.3712) (30.1128, -94.6663) (29.8922, -93.9407) (31.2039, -93.1628) (31.4464, -94.1367) (32.5239, -93.5042) (31.8839, -92.7525) (32.6989, -91.7289) (32.2774, -91.0264) (32.3976, -90.1576) (32.6995, -88.8709) (32.1477, -88.0866) (33.4361, -87.7908) (33.9708, -87.4844) (34.6297, -86.5422) (35.7522, -86.1019) (36.2505, -85.5818) (37.6363, -85.4125) (39.3525, -85.3619) (39.48, -87.6529) (40.6708, -86.7903) (40.8341, -87.7961) knots 0 0 0 0 0 0.10044 0.137166 0.174326 0.21134 0.247201 0.279505 0.309545 0.340403 0.36983 0.40039 0.431038 0.461816 0.493168 0.526021 0.561424 0.59482 0.628773 0.662032 0.694324 0.72893 0.763177 0.799705 0.836851 0.874404 0.912147 1 1 1 1 1
  point P0 (79.1126, -23.2171)
  point P1 (79.7844, -20.8658)
  point P2 (81.296, -18.0945)
  point P3 (83.5634, -16.499)
  point P4 (85.7468, -15.0714)
  point P5 (89.6097, -13.7277)
  point P6 (92.8848, -13.2239)
  point P7 (94.8163, -13.0559)
  point P8 (100.9466, -13.8117)
  point P9 (105.2294, -14.3156)
  point P10 (110.52, -15.0714)
  point P11 (112.7034, -17.1708)
  point P12 (111.1918, -18.0945)
  point P13 (109.4283, -18.9343)
  point P14 (108.2526, -19.4382)
  point P15 (107.0769, -20.278)
  point P16 (106.0692, -20.8658)
  point P17 (105.2295, -22.1255)
  point P18 (103.8018, -24.8127)
  point P19 (102.0383, -24.8127)
  point P20 (99.8549, -24.3088)
  point P21 (97.9234, -23.9729)
  point P22 (96.0759, -23.2171)
  point P23 (93.6406, -23.2171)
  point P24 (92.129, -22.6293)
  point P25 (90.4495, -23.2171)
  point P26 (88.8539, -23.9729)
  point P27 (87.8462, -24.8127)
  point P28 (80.5275, -26.4278)
  point P29 (82.3841, -26.3679)
  point P30 (84.1808, -26.2482)
  point P31 (85.7468, -26.2482)
  point P32 (76.0705, -37.2512)
  point P33 (75.4071, -36.2255)
  point P34 (74.7884, -35.3281)
  point P35 (74.5961, -33.789)
  point P36 (74.9168, -31.6723)
  point P37 (75.7505, -30.4534)
  point P38 (77.3539, -29.9399)
  point P39 (79.1135, -29.4265)
  point P40 (80.5283, -28.9131)
  point P41 (81.8434, -28.4639)
  point P42 (82.9978, -28.0788)
  point P43 (84.5371, -27.7578)
  point P44 (86.3971, -27.3727)
  point P45 (87.4873, -27.1801)
  point P46 (88.4014, -25.2349)
  point P47 (89.2718, -24.3088)
  point P48 (90.4495, -23.9729)
  point P49 (91.115, -23.4941)
  point P50 (92.1291, -23.4941)
  point P51 (93.3166, -23.6477)
  point P52 (94.187, -23.9729)
  point P53 (95.1598, -24.3088)
  point P54 (96.0759, -24.8126)
  point P55 (97.4126, -25.1837)
  point P56 (98.8462, -25.2861)
  point P57 (100.4334, -25.5932)
  point P58 (101.7646, -25.8972)
  point P59 (103.3006, -26.2481)
  point P60 (104.7342, -26.4277)
  point P61 (106.0692, -26.3679)
  point P62 (107.4478, -26.7441)
  point P63 (108.7278, -25.8972)
  point P64 (109.4282, -24.3088)
  point P65 (110.2126, -23.9729)
  point P66 (111.1918, -23.2171)
  point P67 (112.107, -22.6293)
  point P68 (114.1309, -21.8556)
  point P69 (115.4349, -22.1253)
  point P70 (116.9709, -22.6291)
  point P71 (117.7901, -23.6476)
  point P72 (118.4046, -24.3087)
  point P73 (118.6606, -25.286)
  point P74 (118.7118, -26.3679)
  point P75 (118.4559, -27.3726)
  point P76 (118.0974, -27.7574)
  point P77 (117.5342, -28.463)
  point P78 (117.1246, -28.9119)
  point P79 (116.7663, -29.9383)
  point P80 (116.1006, -30.4514)
  point P81 (115.3838, -30.9693)
  point P82 (116.76, -118.5849)
  point P83 (118.089, -115.7429)
  point P84 (118.6998, -112.4755)
  point P85 (119.2803, -109.724)
  point P86 (119.2773, -106.9705)
  point P87 (118.6902, -103.928)
  point P88 (118.0733, -101.3442)
  point P89 (117.0968, -99.046)
  point P90 (115.6524, -96.2281)
  point P91 (114.6758, -93.5239)
  point P92 (114.108, -91.0405)
  point P93 (113.6559, -88.4435)
  point P94 (113.6577, -86.3296)
  point P95 (114.118, -83.2561)
  point P96 (115.3753, -80.7119)
  point P97 (116.7628, -77.7966)
  point P98 (118.0989, -75.0827)
  point P99 (119.6221, -71.4904)
  point P100 (120.7782, -68.4503)
  point P101 (122.8003, -65.2932)
  point P102 (124.071, -62.2766)
  point P103 (125.6577, -59.1032)
  point P104 (126.926, -55.9323)
  point P105 (128.3516, -52.9223)
  point P106 (129.1419, -49.2806)
  point P107 (128.8221, -46.1157)
  point P108 (127.394, -41.8456)
  point P109 (125.4885, -39.627)
  point P110 (122.4746, -36.2121)
  point P111 (118.7172, -33.7768)
  point P112 (116.7718, -32.9768)
  point P113 (115.6796, -31.9847)
  point P114 (65.5161, -124.6802)
  point P115 (64.2663, -124.6802)
  point P116 (62.947, -124.6108)
  point P117 (61.1416, -124.6108)
  point P118 (59.4057, -124.6107)
  point P119 (57.7392, -124.6107)
  point P120 (56.2116, -124.6107)
  point P121 (53.9201, -124.6107)
  point P122 (52.1842, -123.6386)
  point P123 (50.1011, -122.7359)
  point P124 (48.504, -121.8332)
  point P125 (47.1153, -120.4748)
  point P126 (46.2126, -119.6112)
  point P127 (45.8654, -118.5769)
  point P128 (45.5182, -116.9726)
  point P129 (45.1711, -115.7275)
  point P130 (44.8933, -113.7091)
  point P131 (44.8933, -111.6955)
  point P132 (65.7073, -123.4837)
  point P133 (64.2663, -122.736)
  point P134 (62.947, -121.8333)
  point P135 (62.3167, -120.8011)
  point P136 (61.1416, -120.2608)
  point P137 (60.5469, -119.5156)
  point P138 (59.8223, -118.577)
  point P139 (59.4057, -117.8059)
  point P140 (58.4336, -116.9727)
  point P141 (57.7392, -116.1395)
  point P142 (56.6976, -115.0979)
  point P143 (55.7255, -113.7092)
  point P144 (54.5451, -112.4536)
  point P145 (53.3647, -111.6955)
  point P146 (52.1842, -110.7234)
  point P147 (50.5234, -110.574)
  point P148 (49.1041, -110.574)
  point P149 (47.7537, -110.4637)
  point P150 (46.3481, -110.287)
  point P151 (45.3835, -110.4637)
  point P152 (86.6781, -50.2772)
  point P153 (87.0776, -49.9144)
  point P154 (88.0372, -49.3353)
  point P155 (88.8332, -49.0557)
  point P156 (89.5851, -48.5311)
  point P157 (90.6593, -48.1513)
  point P158 (91.3439, -47.7735)
  point P159 (92.1025, -47.3923)
  point P160 (92.8597, -47.0844)
  point P161 (94.1662, -46.808)
  point P162 (94.7981, -46.1701)
  point P163 (95.7774, -45.8019)
  point P164 (96.3907, -45.3748)
  point P165 (97.4067, -45.0216)
  point P166 (98.4574, -44.4786)
  point P167 (99.5277, -44.0903)
  point P168 (100.673, -43.8952)
  point P169 (101.7684, -43.8179)
  point P170 (103.0353, -44.0865)
  point P171 (104.7343, -44.5878)
  point P172 (106.0656, -45.1674)
  point P173 (107.0687, -45.5205)
  point P174 (107.9749, -46.1539)
  point P175 (108.7128, -46.7168)
  point P176 (109.4102, -47.2569)
  point P177 (109.9875, -47.8692)
  point P178 (110.1971, -48.3946)
  point P179 (110.5072, -48.9223)
  point P180 (111.1756, -49.3307)
  point P181 (111.1839, -49.7883)
  point P182 (100.776, -68.465)
  point P183 (101.1174, -67.3953)
  point P184 (101.7646, -66.2709)
  point P185 (102.5728, -65.0344)
  point P186 (103.0324, -64.0039)
  point P187 (103.3006, -63.025)
  point P188 (103.8018, -61.9945)
  point P189 (104.7342, -61.0156)
  point P190 (105.2294, -60.0881)
  point P191 (105.5611, -59.1199)
  point P192 (106.0691, -58.0787)
  point P193 (106.6946, -56.9967)
  point P194 (107.4478, -55.9496)
  point P195 (107.9866, -55.0904)
  point P196 (108.7275, -54.4206)
  point P197 (110.0063, -53.6992)
  point P198 (110.5197, -52.9389)
  point P199 (110.5197, -51.999)
properties part number "LaVenta"
